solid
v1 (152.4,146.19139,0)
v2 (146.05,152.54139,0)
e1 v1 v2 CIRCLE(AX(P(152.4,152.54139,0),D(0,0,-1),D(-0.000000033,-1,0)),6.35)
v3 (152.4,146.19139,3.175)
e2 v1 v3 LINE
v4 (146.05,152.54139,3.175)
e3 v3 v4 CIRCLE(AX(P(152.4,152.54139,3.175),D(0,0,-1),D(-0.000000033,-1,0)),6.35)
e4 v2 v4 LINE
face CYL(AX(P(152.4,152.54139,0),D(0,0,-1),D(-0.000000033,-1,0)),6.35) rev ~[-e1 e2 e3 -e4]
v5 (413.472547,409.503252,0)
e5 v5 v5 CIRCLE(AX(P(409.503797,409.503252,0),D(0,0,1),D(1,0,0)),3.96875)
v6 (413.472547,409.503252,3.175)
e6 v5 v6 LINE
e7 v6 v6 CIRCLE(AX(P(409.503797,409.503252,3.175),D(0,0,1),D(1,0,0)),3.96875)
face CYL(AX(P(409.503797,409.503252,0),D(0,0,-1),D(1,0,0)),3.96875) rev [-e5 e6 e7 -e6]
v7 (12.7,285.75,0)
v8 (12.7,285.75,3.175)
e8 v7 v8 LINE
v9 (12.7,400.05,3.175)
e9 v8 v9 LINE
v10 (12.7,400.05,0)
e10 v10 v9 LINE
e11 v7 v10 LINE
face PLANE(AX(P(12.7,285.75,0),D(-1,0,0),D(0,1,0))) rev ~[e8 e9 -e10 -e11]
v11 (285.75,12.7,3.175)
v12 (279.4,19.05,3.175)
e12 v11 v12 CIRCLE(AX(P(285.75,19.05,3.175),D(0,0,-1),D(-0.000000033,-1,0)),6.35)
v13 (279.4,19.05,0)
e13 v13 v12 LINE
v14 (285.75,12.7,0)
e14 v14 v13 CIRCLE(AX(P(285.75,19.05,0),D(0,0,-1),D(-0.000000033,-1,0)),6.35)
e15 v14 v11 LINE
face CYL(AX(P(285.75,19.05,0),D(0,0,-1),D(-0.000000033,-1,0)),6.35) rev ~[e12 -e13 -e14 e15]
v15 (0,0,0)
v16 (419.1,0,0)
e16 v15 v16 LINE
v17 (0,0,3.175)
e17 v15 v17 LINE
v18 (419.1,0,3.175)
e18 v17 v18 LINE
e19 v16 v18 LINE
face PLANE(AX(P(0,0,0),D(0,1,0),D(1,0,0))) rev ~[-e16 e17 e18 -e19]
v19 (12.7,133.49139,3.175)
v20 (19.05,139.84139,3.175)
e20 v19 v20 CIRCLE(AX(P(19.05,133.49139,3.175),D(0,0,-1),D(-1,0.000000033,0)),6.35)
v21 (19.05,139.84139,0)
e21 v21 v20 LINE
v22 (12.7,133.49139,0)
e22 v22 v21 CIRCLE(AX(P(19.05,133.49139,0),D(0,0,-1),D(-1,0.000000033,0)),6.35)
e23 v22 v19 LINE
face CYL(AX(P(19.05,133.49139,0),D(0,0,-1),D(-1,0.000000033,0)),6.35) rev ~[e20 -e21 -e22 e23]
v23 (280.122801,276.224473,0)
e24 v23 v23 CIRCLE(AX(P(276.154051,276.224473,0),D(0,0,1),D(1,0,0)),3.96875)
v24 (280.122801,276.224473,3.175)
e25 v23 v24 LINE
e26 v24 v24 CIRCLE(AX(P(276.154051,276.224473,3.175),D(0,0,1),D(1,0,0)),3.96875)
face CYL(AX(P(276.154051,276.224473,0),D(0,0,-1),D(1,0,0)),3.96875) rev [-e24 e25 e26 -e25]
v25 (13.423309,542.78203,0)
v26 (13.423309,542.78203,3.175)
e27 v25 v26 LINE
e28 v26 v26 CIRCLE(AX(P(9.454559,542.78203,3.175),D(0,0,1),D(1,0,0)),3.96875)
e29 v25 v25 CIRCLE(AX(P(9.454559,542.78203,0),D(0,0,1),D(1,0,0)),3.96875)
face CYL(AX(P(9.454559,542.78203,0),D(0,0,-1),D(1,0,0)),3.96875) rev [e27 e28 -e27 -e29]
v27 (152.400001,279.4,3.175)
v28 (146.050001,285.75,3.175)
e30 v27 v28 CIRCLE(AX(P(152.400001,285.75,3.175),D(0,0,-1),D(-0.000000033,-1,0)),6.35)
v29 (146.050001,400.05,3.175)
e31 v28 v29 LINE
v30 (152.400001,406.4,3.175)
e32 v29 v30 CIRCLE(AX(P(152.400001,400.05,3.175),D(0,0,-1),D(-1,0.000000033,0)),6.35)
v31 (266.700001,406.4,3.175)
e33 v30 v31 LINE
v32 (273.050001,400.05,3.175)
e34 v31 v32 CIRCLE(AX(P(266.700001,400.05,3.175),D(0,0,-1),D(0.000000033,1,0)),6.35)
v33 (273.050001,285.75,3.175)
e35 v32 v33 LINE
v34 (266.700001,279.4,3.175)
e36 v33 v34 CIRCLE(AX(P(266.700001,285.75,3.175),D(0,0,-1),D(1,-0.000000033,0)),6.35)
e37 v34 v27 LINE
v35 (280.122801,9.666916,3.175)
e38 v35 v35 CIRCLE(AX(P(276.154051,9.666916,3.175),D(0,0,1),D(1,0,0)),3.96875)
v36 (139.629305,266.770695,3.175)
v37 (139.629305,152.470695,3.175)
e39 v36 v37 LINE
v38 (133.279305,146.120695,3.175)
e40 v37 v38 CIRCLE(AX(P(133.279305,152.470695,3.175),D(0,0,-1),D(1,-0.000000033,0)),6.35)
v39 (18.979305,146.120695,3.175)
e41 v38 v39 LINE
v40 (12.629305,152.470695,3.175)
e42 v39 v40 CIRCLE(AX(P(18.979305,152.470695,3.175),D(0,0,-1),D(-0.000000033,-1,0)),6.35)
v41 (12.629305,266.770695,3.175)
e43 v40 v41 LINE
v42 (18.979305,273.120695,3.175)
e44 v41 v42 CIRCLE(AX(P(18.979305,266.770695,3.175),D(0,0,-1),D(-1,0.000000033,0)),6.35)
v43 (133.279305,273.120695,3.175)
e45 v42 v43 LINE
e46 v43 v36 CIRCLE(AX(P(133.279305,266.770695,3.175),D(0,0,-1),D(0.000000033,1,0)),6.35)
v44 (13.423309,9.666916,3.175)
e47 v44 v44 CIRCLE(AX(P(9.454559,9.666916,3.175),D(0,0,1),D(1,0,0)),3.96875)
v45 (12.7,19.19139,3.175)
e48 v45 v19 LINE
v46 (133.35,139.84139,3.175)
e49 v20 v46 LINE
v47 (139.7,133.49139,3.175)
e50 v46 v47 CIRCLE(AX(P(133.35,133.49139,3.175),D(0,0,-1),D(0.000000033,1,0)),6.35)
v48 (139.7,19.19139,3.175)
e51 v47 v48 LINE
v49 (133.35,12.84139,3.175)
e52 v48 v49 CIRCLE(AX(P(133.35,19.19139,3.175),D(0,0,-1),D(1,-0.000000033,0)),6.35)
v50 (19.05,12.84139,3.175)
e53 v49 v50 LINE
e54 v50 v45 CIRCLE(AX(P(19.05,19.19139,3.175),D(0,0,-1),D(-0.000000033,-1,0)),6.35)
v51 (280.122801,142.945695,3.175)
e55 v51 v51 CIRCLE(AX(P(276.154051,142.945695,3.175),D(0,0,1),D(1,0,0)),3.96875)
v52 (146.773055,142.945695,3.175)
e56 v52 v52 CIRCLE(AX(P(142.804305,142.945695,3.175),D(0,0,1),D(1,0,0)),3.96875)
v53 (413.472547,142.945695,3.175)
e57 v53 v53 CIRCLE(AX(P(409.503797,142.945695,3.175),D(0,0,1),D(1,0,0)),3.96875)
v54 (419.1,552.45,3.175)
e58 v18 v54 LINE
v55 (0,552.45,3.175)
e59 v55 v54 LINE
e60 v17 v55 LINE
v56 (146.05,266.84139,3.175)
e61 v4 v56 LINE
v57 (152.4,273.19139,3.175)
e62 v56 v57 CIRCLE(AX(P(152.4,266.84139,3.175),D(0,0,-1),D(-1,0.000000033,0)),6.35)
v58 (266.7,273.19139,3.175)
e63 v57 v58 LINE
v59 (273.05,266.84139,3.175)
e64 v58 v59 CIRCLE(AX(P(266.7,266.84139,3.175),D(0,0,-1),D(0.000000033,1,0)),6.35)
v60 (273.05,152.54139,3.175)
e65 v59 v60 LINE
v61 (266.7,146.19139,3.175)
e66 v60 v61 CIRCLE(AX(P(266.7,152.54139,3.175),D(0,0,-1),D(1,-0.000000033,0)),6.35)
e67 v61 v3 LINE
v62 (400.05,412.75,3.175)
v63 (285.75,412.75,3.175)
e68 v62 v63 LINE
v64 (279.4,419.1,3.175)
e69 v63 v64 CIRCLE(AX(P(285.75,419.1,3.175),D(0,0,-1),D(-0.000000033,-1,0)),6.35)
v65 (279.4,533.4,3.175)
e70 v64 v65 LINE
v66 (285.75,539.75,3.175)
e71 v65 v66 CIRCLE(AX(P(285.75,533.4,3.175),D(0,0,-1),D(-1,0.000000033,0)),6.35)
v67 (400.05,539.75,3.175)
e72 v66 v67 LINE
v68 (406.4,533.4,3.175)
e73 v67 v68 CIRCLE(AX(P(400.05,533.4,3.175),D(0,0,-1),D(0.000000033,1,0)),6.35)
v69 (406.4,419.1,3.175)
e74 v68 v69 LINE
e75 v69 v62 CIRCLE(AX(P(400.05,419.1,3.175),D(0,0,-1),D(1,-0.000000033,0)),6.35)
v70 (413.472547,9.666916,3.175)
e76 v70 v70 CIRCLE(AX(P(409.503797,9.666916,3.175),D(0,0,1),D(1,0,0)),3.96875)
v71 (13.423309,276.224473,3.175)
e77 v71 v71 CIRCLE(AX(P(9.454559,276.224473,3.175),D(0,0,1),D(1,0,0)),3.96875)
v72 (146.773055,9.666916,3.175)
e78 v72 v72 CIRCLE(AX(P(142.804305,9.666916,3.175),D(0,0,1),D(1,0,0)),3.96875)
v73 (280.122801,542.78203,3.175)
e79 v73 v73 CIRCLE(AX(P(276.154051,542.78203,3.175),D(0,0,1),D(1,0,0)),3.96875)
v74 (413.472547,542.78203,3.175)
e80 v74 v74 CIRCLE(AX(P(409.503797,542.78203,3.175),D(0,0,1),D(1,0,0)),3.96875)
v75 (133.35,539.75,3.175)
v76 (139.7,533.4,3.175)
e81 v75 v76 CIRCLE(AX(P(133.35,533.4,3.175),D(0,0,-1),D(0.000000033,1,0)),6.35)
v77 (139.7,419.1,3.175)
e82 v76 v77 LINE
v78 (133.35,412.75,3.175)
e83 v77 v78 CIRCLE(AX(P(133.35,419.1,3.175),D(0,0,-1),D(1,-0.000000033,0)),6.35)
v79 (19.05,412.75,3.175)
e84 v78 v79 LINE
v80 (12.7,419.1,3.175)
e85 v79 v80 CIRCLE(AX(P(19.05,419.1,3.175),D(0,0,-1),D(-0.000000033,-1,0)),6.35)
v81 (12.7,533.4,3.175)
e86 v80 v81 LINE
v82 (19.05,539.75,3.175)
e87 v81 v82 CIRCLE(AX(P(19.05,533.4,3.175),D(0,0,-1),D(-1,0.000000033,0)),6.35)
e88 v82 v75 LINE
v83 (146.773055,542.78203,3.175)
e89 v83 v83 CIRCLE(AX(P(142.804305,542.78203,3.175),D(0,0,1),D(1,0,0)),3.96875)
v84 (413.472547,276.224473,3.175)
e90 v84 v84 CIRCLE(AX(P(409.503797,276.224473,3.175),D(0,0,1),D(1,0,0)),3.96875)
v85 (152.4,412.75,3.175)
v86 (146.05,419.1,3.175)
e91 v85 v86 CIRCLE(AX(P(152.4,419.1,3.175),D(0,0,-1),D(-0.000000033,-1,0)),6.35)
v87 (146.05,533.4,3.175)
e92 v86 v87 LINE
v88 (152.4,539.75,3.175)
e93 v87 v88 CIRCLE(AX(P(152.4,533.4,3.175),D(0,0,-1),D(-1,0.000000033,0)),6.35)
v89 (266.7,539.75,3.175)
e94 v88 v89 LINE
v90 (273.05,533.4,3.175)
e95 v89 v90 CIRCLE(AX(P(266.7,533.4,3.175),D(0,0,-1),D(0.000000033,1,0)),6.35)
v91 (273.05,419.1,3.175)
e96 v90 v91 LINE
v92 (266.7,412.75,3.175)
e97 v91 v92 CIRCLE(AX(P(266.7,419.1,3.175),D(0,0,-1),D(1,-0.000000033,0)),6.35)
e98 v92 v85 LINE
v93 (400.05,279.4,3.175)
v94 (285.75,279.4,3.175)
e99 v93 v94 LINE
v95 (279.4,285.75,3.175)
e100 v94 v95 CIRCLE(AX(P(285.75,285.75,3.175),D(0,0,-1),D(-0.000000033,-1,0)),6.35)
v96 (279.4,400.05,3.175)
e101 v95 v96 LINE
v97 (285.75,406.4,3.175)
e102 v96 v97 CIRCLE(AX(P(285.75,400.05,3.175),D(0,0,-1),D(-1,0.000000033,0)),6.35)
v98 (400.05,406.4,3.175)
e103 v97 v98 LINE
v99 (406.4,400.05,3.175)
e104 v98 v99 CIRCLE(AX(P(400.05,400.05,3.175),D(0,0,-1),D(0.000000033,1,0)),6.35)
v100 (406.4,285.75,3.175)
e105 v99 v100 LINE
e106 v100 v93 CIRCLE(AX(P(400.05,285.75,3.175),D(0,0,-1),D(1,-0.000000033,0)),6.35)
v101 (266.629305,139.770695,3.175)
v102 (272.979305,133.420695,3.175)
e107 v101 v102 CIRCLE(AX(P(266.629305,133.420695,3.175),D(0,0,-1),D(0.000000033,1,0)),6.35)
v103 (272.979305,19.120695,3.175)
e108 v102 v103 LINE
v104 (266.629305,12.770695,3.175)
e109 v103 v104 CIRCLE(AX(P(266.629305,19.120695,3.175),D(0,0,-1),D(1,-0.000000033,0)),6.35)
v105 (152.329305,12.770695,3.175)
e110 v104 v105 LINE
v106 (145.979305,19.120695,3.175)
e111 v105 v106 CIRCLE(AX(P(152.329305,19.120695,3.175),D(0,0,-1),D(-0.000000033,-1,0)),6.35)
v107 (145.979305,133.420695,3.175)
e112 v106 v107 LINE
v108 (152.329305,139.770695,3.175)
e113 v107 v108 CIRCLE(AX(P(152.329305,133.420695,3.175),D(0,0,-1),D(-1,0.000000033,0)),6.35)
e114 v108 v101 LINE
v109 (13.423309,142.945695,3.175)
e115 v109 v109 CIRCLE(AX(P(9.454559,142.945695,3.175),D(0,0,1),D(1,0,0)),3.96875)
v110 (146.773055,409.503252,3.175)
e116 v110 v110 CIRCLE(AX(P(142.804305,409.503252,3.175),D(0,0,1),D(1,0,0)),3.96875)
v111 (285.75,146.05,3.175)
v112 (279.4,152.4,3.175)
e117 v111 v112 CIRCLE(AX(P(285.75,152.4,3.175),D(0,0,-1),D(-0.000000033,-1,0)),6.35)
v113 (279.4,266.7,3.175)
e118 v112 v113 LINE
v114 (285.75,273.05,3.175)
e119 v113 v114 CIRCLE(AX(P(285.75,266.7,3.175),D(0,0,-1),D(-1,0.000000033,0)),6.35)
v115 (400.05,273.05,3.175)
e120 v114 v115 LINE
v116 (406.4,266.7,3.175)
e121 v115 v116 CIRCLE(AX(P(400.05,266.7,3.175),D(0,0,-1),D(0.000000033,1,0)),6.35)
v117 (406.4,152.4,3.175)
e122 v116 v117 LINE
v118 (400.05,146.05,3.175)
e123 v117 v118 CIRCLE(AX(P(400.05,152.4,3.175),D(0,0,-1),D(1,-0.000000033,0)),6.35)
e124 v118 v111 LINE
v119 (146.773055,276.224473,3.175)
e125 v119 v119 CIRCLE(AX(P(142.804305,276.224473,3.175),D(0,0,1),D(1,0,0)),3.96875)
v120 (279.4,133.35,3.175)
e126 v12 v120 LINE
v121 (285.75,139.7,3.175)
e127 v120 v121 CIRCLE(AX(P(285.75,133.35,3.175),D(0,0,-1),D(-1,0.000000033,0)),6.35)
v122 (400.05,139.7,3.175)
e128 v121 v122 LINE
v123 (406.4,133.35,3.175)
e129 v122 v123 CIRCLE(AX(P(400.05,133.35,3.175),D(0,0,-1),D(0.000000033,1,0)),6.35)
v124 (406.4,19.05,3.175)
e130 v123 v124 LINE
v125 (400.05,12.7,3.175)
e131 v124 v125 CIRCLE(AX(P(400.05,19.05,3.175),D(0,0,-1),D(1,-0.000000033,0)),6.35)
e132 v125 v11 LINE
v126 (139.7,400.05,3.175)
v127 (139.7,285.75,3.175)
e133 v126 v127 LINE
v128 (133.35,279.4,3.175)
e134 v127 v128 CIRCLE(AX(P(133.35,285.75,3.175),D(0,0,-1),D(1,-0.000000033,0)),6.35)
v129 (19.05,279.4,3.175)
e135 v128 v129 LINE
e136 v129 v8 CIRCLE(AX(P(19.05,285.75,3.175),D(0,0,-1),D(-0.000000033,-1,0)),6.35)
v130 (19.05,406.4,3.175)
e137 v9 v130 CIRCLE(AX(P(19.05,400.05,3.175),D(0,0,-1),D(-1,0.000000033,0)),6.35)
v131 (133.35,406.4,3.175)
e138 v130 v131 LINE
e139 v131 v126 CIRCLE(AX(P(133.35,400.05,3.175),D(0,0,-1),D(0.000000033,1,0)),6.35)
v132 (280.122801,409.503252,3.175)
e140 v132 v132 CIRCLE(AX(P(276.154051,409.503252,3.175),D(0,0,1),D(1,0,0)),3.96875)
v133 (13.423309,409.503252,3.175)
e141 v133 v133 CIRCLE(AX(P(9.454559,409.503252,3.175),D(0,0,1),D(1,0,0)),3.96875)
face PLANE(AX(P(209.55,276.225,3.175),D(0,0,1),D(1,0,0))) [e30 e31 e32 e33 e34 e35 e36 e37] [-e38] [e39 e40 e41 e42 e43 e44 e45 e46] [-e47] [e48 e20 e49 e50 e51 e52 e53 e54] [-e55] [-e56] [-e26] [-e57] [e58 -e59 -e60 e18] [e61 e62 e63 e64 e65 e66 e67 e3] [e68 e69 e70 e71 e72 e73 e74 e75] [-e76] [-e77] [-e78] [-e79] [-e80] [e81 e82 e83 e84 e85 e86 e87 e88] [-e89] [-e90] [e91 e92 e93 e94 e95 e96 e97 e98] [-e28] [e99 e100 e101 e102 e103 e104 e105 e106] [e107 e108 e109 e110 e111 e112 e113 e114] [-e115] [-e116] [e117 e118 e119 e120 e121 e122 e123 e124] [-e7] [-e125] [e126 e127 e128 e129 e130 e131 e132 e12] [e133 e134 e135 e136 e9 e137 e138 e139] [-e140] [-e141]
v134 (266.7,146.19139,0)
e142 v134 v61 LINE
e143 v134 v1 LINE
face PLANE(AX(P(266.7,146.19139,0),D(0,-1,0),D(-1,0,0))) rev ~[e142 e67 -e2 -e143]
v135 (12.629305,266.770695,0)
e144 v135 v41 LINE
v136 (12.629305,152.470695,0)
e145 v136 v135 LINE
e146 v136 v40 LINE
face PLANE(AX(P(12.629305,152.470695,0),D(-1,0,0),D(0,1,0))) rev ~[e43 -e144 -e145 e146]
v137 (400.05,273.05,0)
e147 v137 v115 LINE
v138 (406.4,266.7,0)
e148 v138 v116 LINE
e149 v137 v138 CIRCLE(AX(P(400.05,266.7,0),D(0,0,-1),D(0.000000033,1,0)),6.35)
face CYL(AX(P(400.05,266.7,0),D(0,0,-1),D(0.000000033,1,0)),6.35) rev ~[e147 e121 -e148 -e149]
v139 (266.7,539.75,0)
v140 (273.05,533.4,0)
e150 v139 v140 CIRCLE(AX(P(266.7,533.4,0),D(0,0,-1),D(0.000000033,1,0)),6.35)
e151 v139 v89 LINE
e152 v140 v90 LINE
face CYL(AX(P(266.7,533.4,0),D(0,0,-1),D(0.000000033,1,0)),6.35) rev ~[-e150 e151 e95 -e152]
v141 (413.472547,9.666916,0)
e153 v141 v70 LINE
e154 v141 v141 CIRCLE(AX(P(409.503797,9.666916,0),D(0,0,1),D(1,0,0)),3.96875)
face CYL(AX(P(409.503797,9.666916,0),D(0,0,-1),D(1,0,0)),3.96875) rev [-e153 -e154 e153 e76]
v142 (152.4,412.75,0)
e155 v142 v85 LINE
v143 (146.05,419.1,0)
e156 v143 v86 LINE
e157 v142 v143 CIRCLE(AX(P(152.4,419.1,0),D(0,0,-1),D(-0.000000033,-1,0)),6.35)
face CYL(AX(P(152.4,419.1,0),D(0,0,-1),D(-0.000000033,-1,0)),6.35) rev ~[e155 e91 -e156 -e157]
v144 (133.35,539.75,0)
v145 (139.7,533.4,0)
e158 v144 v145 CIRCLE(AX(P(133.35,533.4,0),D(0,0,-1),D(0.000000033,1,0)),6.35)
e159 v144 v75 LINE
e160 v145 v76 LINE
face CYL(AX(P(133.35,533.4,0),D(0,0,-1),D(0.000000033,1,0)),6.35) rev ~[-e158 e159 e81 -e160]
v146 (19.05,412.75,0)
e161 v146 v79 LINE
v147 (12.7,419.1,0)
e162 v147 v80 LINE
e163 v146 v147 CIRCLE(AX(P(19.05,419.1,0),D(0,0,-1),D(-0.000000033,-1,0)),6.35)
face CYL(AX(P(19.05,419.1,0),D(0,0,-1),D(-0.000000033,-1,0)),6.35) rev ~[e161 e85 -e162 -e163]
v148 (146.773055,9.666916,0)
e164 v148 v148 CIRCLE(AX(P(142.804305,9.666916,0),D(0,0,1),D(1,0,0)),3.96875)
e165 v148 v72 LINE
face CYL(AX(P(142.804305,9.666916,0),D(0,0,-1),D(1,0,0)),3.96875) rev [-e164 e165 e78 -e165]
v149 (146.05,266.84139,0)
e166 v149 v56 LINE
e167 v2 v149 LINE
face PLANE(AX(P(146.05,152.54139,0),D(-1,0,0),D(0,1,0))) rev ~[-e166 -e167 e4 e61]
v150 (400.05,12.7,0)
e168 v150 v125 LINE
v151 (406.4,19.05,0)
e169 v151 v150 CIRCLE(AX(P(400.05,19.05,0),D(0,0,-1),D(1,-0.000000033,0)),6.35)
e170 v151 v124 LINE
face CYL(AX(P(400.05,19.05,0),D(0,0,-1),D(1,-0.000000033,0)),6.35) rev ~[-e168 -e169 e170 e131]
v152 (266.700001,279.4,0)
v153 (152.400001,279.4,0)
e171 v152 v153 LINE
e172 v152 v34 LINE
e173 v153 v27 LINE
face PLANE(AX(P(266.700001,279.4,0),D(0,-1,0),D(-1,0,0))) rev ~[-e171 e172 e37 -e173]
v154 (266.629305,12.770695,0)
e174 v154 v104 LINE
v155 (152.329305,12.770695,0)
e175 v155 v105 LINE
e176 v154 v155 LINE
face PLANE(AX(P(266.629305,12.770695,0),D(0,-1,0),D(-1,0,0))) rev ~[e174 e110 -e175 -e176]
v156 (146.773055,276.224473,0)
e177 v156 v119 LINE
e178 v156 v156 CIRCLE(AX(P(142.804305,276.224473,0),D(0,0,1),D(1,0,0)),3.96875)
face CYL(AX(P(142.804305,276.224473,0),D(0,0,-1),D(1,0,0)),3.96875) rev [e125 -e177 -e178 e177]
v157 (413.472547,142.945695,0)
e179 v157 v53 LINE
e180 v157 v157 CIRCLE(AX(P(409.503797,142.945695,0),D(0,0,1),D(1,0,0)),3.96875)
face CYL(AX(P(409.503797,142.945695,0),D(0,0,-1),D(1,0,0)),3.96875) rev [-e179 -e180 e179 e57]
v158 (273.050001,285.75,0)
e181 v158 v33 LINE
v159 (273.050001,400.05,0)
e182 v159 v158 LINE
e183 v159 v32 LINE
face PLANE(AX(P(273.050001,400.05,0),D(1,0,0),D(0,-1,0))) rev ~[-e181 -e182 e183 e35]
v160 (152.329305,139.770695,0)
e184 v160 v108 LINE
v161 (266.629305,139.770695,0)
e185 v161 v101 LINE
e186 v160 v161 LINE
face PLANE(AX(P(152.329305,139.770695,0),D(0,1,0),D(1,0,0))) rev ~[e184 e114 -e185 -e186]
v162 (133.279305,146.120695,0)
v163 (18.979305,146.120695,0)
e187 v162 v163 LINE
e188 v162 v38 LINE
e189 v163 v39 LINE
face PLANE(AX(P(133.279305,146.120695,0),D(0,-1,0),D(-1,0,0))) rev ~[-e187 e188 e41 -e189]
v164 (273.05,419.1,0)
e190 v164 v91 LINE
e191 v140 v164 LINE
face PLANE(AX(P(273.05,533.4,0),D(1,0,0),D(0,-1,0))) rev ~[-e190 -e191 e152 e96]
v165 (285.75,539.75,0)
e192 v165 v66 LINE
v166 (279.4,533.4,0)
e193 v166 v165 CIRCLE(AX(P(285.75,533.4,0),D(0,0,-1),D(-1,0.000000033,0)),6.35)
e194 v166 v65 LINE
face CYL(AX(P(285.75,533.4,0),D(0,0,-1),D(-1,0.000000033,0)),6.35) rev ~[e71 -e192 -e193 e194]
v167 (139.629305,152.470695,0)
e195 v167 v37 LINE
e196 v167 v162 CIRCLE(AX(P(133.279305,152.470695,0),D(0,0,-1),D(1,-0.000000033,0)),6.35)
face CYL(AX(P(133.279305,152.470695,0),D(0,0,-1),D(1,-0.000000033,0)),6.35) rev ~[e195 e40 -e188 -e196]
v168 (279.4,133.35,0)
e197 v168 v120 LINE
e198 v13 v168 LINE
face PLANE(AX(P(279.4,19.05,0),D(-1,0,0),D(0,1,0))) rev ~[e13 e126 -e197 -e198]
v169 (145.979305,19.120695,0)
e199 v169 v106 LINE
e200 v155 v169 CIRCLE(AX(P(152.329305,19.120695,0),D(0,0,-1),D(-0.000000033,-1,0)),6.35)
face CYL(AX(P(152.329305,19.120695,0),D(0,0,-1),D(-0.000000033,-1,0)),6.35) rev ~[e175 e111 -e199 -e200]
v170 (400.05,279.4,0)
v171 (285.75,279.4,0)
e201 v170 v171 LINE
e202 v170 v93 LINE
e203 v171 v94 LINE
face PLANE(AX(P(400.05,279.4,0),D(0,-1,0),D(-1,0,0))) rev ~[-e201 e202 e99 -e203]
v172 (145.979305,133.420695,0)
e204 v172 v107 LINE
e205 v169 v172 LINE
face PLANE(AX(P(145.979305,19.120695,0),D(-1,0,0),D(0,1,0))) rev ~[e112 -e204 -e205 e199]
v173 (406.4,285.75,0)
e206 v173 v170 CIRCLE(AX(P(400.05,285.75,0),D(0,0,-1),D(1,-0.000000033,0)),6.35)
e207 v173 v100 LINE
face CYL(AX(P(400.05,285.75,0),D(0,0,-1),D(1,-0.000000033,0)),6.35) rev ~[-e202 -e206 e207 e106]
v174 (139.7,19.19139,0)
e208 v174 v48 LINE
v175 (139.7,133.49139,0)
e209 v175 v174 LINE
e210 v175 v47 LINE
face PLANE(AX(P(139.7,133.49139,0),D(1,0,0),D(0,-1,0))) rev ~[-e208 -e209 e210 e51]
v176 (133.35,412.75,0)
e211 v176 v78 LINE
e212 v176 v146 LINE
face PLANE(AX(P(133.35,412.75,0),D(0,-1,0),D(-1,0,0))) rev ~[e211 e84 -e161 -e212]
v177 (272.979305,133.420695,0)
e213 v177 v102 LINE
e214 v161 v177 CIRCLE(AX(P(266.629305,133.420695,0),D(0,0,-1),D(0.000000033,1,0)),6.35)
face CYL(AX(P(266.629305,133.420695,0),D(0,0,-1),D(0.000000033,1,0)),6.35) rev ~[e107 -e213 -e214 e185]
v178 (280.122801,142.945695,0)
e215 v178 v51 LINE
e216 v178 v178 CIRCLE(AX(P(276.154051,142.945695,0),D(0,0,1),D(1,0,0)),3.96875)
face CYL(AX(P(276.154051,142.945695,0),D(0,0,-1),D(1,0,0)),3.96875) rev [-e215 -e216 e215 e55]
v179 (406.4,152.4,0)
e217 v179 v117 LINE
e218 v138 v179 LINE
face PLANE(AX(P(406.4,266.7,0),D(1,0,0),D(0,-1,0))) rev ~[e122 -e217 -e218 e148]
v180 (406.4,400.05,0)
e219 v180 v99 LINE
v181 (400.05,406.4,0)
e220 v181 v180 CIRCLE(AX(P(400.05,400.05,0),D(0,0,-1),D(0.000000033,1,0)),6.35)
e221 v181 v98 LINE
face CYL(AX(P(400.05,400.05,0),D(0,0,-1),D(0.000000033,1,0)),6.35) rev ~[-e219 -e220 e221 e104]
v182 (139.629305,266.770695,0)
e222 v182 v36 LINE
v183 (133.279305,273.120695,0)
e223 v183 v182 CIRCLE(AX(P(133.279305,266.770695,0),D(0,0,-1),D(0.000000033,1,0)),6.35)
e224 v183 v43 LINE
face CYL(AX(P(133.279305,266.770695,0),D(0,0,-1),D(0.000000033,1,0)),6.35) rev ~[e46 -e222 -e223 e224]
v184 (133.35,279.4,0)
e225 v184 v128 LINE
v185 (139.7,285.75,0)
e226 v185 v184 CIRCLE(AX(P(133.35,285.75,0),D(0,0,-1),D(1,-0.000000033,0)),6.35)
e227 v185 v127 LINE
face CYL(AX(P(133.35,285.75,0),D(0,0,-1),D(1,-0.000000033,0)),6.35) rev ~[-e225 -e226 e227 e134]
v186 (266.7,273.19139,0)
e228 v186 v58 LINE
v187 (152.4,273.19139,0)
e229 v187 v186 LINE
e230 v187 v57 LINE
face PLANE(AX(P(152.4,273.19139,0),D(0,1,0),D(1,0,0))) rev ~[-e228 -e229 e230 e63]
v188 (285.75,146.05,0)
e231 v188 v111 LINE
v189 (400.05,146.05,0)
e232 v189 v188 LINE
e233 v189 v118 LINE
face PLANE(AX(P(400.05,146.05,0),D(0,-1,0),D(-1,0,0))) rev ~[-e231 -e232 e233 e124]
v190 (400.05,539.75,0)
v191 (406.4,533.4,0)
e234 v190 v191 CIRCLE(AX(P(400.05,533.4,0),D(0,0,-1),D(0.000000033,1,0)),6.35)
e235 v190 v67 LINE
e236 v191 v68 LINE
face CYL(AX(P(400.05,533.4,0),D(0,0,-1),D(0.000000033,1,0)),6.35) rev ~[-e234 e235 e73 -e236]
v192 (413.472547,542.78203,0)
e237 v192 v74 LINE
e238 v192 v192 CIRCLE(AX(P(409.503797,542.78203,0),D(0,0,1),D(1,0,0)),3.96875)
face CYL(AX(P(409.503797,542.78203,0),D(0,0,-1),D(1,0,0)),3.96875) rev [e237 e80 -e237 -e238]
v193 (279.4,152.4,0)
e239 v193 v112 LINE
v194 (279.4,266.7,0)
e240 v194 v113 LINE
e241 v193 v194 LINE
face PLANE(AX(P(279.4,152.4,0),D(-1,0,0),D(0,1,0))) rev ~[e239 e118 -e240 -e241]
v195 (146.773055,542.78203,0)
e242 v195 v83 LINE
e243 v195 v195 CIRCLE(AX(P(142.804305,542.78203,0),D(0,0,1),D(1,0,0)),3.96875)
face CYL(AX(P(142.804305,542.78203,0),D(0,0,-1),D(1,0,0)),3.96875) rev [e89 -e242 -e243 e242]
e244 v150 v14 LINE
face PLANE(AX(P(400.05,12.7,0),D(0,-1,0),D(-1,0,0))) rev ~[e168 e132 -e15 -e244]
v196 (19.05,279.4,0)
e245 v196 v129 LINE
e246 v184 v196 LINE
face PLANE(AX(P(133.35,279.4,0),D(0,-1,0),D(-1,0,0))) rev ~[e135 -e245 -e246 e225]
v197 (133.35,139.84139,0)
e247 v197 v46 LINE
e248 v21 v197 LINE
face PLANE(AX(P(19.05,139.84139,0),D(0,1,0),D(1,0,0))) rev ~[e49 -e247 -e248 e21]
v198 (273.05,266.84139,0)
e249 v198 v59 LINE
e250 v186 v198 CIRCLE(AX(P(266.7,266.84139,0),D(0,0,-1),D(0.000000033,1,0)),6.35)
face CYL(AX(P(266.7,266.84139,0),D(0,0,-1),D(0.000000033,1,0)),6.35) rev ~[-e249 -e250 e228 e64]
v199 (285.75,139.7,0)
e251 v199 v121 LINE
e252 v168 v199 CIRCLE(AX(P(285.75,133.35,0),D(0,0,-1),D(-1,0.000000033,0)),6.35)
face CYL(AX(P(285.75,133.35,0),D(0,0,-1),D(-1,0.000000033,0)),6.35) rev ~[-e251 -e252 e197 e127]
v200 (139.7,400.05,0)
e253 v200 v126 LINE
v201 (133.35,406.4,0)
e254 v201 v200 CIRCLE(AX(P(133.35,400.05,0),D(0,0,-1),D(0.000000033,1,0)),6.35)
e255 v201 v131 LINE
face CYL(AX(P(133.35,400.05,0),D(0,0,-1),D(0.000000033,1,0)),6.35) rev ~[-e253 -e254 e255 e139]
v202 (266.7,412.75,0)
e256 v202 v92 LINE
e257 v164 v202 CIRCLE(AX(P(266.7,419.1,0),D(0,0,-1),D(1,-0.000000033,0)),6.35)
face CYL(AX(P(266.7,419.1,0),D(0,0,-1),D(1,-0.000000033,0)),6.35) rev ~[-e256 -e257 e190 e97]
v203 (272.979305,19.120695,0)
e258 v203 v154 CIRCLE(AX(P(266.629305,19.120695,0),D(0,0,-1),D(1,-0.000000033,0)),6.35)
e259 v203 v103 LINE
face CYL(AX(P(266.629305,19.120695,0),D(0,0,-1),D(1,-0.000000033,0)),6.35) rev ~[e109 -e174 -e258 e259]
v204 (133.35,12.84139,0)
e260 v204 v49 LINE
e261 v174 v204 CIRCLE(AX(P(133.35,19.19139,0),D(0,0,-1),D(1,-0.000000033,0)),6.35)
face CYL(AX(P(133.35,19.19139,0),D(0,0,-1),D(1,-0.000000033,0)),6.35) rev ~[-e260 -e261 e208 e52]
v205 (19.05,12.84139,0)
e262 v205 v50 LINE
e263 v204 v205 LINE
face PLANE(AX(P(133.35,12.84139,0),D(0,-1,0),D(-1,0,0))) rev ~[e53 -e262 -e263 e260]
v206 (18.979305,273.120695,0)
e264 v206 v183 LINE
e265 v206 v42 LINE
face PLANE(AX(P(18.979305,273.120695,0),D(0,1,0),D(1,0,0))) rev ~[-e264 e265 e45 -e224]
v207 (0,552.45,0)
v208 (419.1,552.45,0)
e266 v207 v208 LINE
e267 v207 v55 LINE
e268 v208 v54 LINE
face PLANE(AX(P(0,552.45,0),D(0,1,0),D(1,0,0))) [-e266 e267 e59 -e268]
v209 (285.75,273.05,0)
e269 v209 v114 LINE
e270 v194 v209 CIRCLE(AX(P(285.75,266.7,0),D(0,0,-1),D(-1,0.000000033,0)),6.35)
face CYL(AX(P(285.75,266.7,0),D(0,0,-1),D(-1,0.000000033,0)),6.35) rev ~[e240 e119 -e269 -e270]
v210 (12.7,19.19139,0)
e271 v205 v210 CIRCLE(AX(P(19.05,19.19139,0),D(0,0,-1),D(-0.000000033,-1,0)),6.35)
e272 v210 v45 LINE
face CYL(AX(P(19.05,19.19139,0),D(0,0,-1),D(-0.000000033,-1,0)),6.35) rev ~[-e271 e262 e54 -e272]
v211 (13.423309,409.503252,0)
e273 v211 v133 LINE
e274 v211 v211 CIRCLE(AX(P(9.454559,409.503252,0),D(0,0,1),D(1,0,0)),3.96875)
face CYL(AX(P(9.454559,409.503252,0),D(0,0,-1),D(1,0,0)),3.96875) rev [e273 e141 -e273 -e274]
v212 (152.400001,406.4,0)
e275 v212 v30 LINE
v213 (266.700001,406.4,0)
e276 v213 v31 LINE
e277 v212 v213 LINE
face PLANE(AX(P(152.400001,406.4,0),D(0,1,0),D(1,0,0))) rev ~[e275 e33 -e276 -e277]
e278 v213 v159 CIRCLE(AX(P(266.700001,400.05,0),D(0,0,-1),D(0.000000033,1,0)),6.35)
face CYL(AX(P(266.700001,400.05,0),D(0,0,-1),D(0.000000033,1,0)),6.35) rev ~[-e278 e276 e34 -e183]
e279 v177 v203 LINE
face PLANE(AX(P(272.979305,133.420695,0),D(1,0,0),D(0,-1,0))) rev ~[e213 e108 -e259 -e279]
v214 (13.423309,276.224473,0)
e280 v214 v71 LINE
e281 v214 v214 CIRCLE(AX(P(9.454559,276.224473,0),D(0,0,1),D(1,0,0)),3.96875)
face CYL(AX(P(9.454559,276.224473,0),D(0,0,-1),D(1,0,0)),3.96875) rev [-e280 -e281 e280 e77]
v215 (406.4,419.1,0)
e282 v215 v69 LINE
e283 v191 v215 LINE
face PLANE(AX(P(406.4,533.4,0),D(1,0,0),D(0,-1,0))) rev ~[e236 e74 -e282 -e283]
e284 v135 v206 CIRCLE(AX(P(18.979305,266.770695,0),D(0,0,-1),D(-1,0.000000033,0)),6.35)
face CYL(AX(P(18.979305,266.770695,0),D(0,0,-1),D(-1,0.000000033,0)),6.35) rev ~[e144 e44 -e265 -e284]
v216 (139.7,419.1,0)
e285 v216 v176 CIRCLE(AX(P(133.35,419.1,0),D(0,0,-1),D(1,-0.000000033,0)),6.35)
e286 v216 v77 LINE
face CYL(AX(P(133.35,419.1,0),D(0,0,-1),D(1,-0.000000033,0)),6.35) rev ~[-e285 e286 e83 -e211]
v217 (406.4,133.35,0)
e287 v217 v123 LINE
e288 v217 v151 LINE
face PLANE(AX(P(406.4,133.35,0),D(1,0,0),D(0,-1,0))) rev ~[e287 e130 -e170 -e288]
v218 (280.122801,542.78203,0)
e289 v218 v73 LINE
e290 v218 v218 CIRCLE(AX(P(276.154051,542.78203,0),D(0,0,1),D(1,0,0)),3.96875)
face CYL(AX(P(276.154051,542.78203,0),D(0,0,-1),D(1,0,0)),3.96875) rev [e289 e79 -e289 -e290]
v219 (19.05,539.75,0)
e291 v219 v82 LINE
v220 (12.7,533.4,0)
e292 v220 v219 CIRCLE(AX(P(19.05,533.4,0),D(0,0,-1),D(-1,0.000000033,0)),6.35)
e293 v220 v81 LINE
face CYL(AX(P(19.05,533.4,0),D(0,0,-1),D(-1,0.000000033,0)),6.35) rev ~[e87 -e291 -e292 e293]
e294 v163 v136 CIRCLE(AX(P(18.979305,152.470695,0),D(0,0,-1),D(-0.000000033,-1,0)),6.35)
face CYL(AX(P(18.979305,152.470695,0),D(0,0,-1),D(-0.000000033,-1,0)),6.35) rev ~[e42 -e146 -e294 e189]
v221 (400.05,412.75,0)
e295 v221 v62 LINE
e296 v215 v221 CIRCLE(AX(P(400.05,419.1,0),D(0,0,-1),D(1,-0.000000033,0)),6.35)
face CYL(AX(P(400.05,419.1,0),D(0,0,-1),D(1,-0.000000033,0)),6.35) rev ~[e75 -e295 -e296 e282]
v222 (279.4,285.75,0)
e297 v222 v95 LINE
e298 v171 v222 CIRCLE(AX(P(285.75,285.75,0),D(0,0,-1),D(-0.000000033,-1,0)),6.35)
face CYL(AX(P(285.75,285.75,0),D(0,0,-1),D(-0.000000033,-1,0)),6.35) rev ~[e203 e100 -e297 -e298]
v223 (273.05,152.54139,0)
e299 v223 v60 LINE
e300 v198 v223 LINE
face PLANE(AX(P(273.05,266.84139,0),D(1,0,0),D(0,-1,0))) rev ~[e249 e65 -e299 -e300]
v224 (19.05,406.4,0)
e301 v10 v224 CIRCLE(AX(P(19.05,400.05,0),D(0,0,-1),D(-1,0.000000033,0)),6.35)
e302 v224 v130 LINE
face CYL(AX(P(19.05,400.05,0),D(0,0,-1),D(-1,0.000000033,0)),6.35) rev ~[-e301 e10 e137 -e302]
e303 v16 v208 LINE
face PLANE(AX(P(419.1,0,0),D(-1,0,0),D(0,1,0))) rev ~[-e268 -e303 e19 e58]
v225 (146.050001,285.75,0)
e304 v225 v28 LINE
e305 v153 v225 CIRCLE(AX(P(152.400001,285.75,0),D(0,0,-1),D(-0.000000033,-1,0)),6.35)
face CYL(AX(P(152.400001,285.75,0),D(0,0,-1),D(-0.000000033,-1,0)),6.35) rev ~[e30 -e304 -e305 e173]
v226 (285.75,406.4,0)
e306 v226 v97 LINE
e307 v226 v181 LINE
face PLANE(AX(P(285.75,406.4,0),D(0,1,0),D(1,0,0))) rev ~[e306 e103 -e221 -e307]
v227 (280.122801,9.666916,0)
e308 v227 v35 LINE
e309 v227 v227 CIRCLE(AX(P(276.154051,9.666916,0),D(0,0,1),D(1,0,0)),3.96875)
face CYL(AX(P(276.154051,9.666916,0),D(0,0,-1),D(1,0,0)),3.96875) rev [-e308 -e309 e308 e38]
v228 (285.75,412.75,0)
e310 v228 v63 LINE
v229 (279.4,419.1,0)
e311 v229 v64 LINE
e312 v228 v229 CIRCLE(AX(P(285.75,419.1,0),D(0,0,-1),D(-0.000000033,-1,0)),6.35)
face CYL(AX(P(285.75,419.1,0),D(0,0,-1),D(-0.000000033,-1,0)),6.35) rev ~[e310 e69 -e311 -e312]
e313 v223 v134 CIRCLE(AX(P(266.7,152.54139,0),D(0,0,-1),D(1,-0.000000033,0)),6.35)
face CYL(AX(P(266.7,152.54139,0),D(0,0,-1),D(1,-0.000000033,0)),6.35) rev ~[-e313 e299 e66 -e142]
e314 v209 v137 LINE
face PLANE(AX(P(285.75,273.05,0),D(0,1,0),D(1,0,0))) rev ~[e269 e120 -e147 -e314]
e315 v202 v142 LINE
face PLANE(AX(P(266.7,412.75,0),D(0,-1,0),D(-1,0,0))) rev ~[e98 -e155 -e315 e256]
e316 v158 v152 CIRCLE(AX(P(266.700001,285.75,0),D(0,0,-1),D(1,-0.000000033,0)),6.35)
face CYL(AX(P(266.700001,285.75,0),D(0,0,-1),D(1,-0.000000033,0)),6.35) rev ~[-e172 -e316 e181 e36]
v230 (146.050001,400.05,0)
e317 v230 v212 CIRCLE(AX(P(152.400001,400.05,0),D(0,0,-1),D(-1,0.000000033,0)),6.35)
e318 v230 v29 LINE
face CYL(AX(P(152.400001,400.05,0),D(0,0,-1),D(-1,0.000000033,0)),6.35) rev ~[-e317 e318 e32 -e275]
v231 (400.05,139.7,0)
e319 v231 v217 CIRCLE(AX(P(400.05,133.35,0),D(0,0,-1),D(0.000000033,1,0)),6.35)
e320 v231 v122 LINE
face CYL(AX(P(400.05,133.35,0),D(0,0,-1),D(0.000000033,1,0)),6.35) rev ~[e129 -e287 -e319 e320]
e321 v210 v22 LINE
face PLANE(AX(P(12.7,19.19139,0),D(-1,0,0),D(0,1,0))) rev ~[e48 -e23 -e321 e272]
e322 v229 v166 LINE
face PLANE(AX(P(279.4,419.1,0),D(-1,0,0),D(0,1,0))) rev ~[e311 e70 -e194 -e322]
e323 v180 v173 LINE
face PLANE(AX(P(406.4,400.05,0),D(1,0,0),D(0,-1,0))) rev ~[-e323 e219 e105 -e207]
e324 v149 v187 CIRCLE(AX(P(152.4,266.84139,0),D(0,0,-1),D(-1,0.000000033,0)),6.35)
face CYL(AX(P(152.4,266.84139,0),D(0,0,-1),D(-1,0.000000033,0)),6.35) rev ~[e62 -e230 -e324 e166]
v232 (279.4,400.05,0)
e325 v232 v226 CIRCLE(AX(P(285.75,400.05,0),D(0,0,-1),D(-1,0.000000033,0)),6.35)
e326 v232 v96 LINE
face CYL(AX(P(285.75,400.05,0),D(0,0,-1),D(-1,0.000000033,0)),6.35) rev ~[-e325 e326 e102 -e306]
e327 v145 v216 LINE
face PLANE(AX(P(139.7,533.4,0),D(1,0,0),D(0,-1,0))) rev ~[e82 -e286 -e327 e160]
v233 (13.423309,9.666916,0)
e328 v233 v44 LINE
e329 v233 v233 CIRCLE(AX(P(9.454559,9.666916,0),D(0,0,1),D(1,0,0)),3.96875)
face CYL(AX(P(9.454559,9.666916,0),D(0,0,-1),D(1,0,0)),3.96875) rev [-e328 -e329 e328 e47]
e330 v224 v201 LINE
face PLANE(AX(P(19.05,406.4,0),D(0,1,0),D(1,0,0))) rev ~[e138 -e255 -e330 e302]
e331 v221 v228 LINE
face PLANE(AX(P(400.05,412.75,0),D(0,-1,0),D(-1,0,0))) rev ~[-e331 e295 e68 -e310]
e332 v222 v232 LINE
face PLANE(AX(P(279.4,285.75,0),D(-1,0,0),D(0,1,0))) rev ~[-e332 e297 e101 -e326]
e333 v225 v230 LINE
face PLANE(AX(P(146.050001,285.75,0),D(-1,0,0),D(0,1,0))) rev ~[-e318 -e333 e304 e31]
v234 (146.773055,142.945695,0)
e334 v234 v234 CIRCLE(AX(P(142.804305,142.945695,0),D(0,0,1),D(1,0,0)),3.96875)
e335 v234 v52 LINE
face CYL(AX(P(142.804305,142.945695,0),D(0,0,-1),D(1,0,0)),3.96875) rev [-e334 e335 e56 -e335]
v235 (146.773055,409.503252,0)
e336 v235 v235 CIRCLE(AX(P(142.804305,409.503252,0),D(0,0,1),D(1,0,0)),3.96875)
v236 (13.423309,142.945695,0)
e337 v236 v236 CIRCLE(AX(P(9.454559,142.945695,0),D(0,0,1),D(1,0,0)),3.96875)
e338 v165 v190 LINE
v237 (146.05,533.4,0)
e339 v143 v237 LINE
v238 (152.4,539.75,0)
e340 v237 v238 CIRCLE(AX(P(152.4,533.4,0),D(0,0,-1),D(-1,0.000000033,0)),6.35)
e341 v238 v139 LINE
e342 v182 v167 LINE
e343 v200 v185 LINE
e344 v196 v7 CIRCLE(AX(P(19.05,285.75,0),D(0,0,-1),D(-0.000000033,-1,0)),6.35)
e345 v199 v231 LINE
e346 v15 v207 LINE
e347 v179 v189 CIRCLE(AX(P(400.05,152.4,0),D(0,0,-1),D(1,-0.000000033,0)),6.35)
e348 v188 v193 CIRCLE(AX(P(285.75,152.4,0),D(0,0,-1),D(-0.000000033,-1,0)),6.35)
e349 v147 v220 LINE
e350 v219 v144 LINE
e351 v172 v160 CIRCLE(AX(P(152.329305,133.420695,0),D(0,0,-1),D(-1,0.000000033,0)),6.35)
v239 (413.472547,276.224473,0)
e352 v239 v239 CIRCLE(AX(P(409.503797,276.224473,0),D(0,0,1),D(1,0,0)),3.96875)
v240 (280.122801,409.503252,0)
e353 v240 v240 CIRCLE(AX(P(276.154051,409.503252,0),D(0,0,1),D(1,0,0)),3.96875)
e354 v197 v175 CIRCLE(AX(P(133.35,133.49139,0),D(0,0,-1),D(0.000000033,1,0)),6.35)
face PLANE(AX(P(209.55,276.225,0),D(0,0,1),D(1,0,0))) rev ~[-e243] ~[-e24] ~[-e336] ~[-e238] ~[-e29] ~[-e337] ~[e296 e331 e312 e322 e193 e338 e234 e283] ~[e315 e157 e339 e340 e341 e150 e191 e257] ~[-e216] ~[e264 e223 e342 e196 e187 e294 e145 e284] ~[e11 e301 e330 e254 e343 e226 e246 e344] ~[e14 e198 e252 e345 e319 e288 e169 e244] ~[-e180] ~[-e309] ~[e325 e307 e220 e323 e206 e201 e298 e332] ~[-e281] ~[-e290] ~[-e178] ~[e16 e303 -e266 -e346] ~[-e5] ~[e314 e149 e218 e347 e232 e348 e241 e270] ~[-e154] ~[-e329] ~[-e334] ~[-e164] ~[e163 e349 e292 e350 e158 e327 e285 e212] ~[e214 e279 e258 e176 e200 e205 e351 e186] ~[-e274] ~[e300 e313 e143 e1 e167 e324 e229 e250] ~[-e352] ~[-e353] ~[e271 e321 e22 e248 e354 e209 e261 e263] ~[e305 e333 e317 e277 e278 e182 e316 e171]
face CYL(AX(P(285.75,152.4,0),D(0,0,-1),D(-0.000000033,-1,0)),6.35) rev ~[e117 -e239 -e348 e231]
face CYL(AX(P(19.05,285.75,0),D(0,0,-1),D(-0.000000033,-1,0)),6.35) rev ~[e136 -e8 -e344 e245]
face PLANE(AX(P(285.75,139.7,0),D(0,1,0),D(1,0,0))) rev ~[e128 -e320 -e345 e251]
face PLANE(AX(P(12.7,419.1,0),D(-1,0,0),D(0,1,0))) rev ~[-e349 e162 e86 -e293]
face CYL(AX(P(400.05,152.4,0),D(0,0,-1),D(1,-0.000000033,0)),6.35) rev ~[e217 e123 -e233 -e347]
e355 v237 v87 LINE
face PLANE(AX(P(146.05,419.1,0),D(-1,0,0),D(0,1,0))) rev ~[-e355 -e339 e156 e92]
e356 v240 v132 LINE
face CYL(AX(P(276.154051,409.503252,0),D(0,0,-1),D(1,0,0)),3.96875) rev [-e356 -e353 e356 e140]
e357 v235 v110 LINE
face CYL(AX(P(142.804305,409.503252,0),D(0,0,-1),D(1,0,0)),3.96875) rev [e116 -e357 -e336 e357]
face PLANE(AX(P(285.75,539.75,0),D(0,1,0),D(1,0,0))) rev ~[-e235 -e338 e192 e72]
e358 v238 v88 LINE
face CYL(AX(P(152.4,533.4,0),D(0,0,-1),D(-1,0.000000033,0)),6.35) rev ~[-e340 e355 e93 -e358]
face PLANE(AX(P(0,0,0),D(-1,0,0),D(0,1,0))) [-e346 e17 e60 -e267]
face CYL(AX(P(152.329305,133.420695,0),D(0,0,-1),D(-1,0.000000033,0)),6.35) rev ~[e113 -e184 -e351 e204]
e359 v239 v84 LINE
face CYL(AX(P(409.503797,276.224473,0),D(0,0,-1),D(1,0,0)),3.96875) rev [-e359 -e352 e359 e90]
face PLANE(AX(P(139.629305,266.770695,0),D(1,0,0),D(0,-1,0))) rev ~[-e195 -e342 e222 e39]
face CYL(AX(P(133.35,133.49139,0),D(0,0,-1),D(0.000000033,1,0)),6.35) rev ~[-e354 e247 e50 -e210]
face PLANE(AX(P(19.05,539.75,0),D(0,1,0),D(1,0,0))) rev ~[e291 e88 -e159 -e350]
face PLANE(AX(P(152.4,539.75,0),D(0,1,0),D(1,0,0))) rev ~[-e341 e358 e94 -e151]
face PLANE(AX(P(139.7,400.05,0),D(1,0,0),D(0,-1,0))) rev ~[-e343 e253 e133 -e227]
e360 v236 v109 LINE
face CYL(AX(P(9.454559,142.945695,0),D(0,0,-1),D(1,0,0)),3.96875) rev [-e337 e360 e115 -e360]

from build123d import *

# Parameters (mm, degrees)
F0_W     = 419.1
F0_H     = 552.45
F0_R     = 3.96875
F1_DEPTH = 3.175


with BuildPart() as f1:
    # F0 (on Top) → F1 (new body)
    with BuildSketch(Plane.XY):
        with Locations((209.55, 276.225)):
            Rectangle(F0_W, F0_H)
        with Locations((9.454559, 9.666916)):
            Circle(F0_R, mode=Mode.SUBTRACT)
        with BuildLine():
            Line((133.35, 12.84139), (19.05, 12.84139))
            ThreePointArc((19.05, 12.84139), (14.559872, 14.701262), (12.7, 19.19139))
            Line((12.7, 19.19139), (12.7, 133.49139))
            ThreePointArc((12.7, 133.49139), (14.559872, 137.981518), (19.05, 139.84139))
            Line((19.05, 139.84139), (133.35, 139.84139))
            ThreePointArc((133.35, 139.84139), (137.840128, 137.981518), (139.7, 133.49139))
            Line((139.7, 133.49139), (139.7, 19.19139))
            ThreePointArc((139.7, 19.19139), (137.840128, 14.701262), (133.35, 12.84139))
        make_face(mode=Mode.SUBTRACT)
        with Locations((142.804305, 9.666916)):
            Circle(F0_R, mode=Mode.SUBTRACT)
        with BuildLine():
            Line((272.979305, 133.420695), (272.979305, 19.120695))
            ThreePointArc((272.979305, 19.120695), (271.119433, 14.630567), (266.629305, 12.770695))
            Line((266.629305, 12.770695), (152.329305, 12.770695))
            ThreePointArc((152.329305, 12.770695), (147.839177, 14.630567), (145.979305, 19.120695))
            Line((145.979305, 19.120695), (145.979305, 133.420695))
            ThreePointArc((145.979305, 133.420695), (147.839177, 137.910823), (152.329305, 139.770695))
            Line((152.329305, 139.770695), (266.629305, 139.770695))
            ThreePointArc((266.629305, 139.770695), (271.119433, 137.910823), (272.979305, 133.420695))
        make_face(mode=Mode.SUBTRACT)
        with Locations((9.454559, 142.945695)):
            Circle(F0_R, mode=Mode.SUBTRACT)
        with Locations((9.454559, 276.224473)):
            Circle(F0_R, mode=Mode.SUBTRACT)
        with BuildLine():
            Line((139.629305, 266.770695), (139.629305, 152.470695))
            ThreePointArc((139.629305, 152.470695), (137.769433, 147.980567), (133.279305, 146.120695))
            Line((133.279305, 146.120695), (18.979305, 146.120695))
            ThreePointArc((18.979305, 146.120695), (14.489177, 147.980567), (12.629305, 152.470695))
            Line((12.629305, 152.470695), (12.629305, 266.770695))
            ThreePointArc((12.629305, 266.770695), (14.489177, 271.260823), (18.979305, 273.120695))
            Line((18.979305, 273.120695), (133.279305, 273.120695))
            ThreePointArc((133.279305, 273.120695), (137.769433, 271.260823), (139.629305, 266.770695))
        make_face(mode=Mode.SUBTRACT)
        with Locations((142.804305, 142.945695)):
            Circle(F0_R, mode=Mode.SUBTRACT)
        with Locations((142.804305, 276.224473)):
            Circle(F0_R, mode=Mode.SUBTRACT)
        with Locations((276.154051, 9.666916)):
            Circle(F0_R, mode=Mode.SUBTRACT)
        with Locations((409.503797, 9.666916)):
            Circle(F0_R, mode=Mode.SUBTRACT)
        with BuildLine():
            Line((406.4, 133.35), (406.4, 19.05))
            ThreePointArc((406.4, 19.05), (404.540128, 14.559872), (400.05, 12.7))
            Line((400.05, 12.7), (285.75, 12.7))
            ThreePointArc((285.75, 12.7), (281.259872, 14.559872), (279.4, 19.05))
            Line((279.4, 19.05), (279.4, 133.35))
            ThreePointArc((279.4, 133.35), (281.259872, 137.840128), (285.75, 139.7))
            Line((285.75, 139.7), (400.05, 139.7))
            ThreePointArc((400.05, 139.7), (404.540128, 137.840128), (406.4, 133.35))
        make_face(mode=Mode.SUBTRACT)
        with Locations((276.154051, 142.945695)):
            Circle(F0_R, mode=Mode.SUBTRACT)
        with BuildLine():
            Line((273.05, 266.84139), (273.05, 152.54139))
            ThreePointArc((273.05, 152.54139), (271.190128, 148.051262), (266.7, 146.19139))
            Line((266.7, 146.19139), (152.4, 146.19139))
            ThreePointArc((152.4, 146.19139), (147.909872, 148.051262), (146.05, 152.54139))
            Line((146.05, 152.54139), (146.05, 266.84139))
            ThreePointArc((146.05, 266.84139), (147.909872, 271.331518), (152.4, 273.19139))
            Line((152.4, 273.19139), (266.7, 273.19139))
            ThreePointArc((266.7, 273.19139), (271.190128, 271.331518), (273.05, 266.84139))
        make_face(mode=Mode.SUBTRACT)
        with Locations((276.154051, 276.224473)):
            Circle(F0_R, mode=Mode.SUBTRACT)
        with Locations((409.503797, 142.945695)):
            Circle(F0_R, mode=Mode.SUBTRACT)
        with BuildLine():
            Line((406.4, 266.7), (406.4, 152.4))
            ThreePointArc((406.4, 152.4), (404.540128, 147.909872), (400.05, 146.05))
            Line((400.05, 146.05), (285.75, 146.05))
            ThreePointArc((285.75, 146.05), (281.259872, 147.909872), (279.4, 152.4))
            Line((279.4, 152.4), (279.4, 266.7))
            ThreePointArc((279.4, 266.7), (281.259872, 271.190128), (285.75, 273.05))
            Line((285.75, 273.05), (400.05, 273.05))
            ThreePointArc((400.05, 273.05), (404.540128, 271.190128), (406.4, 266.7))
        make_face(mode=Mode.SUBTRACT)
        with Locations((409.503797, 276.224473)):
            Circle(F0_R, mode=Mode.SUBTRACT)
        with BuildLine():
            Line((139.7, 400.05), (139.7, 285.75))
            ThreePointArc((139.7, 285.75), (137.840128, 281.259872), (133.35, 279.4))
            Line((133.35, 279.4), (19.05, 279.4))
            ThreePointArc((19.05, 279.4), (14.559872, 281.259872), (12.7, 285.75))
            Line((12.7, 285.75), (12.7, 400.05))
            ThreePointArc((12.7, 400.05), (14.559872, 404.540128), (19.05, 406.4))
            Line((19.05, 406.4), (133.35, 406.4))
            ThreePointArc((133.35, 406.4), (137.840128, 404.540128), (139.7, 400.05))
        make_face(mode=Mode.SUBTRACT)
        with Locations((9.454559, 409.503252)):
            Circle(F0_R, mode=Mode.SUBTRACT)
        with Locations((142.804305, 409.503252)):
            Circle(F0_R, mode=Mode.SUBTRACT)
        with BuildLine():
            Line((139.7, 533.4), (139.7, 419.1))
            ThreePointArc((139.7, 419.1), (137.840128, 414.609872), (133.35, 412.75))
            Line((133.35, 412.75), (19.05, 412.75))
            ThreePointArc((19.05, 412.75), (14.559872, 414.609872), (12.7, 419.1))
            Line((12.7, 419.1), (12.7, 533.4))
            ThreePointArc((12.7, 533.4), (14.559872, 537.890128), (19.05, 539.75))
            Line((19.05, 539.75), (133.35, 539.75))
            ThreePointArc((133.35, 539.75), (137.840128, 537.890128), (139.7, 533.4))
        make_face(mode=Mode.SUBTRACT)
        with Locations((9.454559, 542.78203)):
            Circle(F0_R, mode=Mode.SUBTRACT)
        with Locations((142.804305, 542.78203)):
            Circle(F0_R, mode=Mode.SUBTRACT)
        with BuildLine():
            Line((273.050001, 400.05), (273.050001, 285.75))
            ThreePointArc((273.050001, 285.75), (271.190129, 281.259872), (266.700001, 279.4))
            Line((266.700001, 279.4), (152.400001, 279.4))
            ThreePointArc((152.400001, 279.4), (147.909873, 281.259872), (146.050001, 285.75))
            Line((146.050001, 285.75), (146.050001, 400.05))
            ThreePointArc((146.050001, 400.05), (147.909873, 404.540128), (152.400001, 406.4))
            Line((152.400001, 406.4), (266.700001, 406.4))
            ThreePointArc((266.700001, 406.4), (271.190129, 404.540128), (273.050001, 400.05))
        make_face(mode=Mode.SUBTRACT)
        with Locations((276.154051, 409.503252)):
            Circle(F0_R, mode=Mode.SUBTRACT)
        with BuildLine():
            Line((406.4, 400.05), (406.4, 285.75))
            ThreePointArc((406.4, 285.75), (404.540128, 281.259872), (400.05, 279.4))
            Line((400.05, 279.4), (285.75, 279.4))
            ThreePointArc((285.75, 279.4), (281.259872, 281.259872), (279.4, 285.75))
            Line((279.4, 285.75), (279.4, 400.05))
            ThreePointArc((279.4, 400.05), (281.259872, 404.540128), (285.75, 406.4))
            Line((285.75, 406.4), (400.05, 406.4))
            ThreePointArc((400.05, 406.4), (404.540128, 404.540128), (406.4, 400.05))
        make_face(mode=Mode.SUBTRACT)
        with Locations((409.503797, 409.503252)):
            Circle(F0_R, mode=Mode.SUBTRACT)
        with BuildLine():
            Line((273.05, 533.4), (273.05, 419.1))
            ThreePointArc((273.05, 419.1), (271.190128, 414.609872), (266.7, 412.75))
            Line((266.7, 412.75), (152.4, 412.75))
            ThreePointArc((152.4, 412.75), (147.909872, 414.609872), (146.05, 419.1))
            Line((146.05, 419.1), (146.05, 533.4))
            ThreePointArc((146.05, 533.4), (147.909872, 537.890128), (152.4, 539.75))
            Line((152.4, 539.75), (266.7, 539.75))
            ThreePointArc((266.7, 539.75), (271.190128, 537.890128), (273.05, 533.4))
        make_face(mode=Mode.SUBTRACT)
        with Locations((276.154051, 542.78203)):
            Circle(F0_R, mode=Mode.SUBTRACT)
        with BuildLine():
            Line((406.4, 533.4), (406.4, 419.1))
            ThreePointArc((406.4, 419.1), (404.540128, 414.609872), (400.05, 412.75))
            Line((400.05, 412.75), (285.75, 412.75))
            ThreePointArc((285.75, 412.75), (281.259872, 414.609872), (279.4, 419.1))
            Line((279.4, 419.1), (279.4, 533.4))
            ThreePointArc((279.4, 533.4), (281.259872, 537.890128), (285.75, 539.75))
            Line((285.75, 539.75), (400.05, 539.75))
            ThreePointArc((400.05, 539.75), (404.540128, 537.890128), (406.4, 533.4))
        make_face(mode=Mode.SUBTRACT)
        with Locations((409.503797, 542.78203)):
            Circle(F0_R, mode=Mode.SUBTRACT)
    extrude(amount=F1_DEPTH)


solid = f1.part
